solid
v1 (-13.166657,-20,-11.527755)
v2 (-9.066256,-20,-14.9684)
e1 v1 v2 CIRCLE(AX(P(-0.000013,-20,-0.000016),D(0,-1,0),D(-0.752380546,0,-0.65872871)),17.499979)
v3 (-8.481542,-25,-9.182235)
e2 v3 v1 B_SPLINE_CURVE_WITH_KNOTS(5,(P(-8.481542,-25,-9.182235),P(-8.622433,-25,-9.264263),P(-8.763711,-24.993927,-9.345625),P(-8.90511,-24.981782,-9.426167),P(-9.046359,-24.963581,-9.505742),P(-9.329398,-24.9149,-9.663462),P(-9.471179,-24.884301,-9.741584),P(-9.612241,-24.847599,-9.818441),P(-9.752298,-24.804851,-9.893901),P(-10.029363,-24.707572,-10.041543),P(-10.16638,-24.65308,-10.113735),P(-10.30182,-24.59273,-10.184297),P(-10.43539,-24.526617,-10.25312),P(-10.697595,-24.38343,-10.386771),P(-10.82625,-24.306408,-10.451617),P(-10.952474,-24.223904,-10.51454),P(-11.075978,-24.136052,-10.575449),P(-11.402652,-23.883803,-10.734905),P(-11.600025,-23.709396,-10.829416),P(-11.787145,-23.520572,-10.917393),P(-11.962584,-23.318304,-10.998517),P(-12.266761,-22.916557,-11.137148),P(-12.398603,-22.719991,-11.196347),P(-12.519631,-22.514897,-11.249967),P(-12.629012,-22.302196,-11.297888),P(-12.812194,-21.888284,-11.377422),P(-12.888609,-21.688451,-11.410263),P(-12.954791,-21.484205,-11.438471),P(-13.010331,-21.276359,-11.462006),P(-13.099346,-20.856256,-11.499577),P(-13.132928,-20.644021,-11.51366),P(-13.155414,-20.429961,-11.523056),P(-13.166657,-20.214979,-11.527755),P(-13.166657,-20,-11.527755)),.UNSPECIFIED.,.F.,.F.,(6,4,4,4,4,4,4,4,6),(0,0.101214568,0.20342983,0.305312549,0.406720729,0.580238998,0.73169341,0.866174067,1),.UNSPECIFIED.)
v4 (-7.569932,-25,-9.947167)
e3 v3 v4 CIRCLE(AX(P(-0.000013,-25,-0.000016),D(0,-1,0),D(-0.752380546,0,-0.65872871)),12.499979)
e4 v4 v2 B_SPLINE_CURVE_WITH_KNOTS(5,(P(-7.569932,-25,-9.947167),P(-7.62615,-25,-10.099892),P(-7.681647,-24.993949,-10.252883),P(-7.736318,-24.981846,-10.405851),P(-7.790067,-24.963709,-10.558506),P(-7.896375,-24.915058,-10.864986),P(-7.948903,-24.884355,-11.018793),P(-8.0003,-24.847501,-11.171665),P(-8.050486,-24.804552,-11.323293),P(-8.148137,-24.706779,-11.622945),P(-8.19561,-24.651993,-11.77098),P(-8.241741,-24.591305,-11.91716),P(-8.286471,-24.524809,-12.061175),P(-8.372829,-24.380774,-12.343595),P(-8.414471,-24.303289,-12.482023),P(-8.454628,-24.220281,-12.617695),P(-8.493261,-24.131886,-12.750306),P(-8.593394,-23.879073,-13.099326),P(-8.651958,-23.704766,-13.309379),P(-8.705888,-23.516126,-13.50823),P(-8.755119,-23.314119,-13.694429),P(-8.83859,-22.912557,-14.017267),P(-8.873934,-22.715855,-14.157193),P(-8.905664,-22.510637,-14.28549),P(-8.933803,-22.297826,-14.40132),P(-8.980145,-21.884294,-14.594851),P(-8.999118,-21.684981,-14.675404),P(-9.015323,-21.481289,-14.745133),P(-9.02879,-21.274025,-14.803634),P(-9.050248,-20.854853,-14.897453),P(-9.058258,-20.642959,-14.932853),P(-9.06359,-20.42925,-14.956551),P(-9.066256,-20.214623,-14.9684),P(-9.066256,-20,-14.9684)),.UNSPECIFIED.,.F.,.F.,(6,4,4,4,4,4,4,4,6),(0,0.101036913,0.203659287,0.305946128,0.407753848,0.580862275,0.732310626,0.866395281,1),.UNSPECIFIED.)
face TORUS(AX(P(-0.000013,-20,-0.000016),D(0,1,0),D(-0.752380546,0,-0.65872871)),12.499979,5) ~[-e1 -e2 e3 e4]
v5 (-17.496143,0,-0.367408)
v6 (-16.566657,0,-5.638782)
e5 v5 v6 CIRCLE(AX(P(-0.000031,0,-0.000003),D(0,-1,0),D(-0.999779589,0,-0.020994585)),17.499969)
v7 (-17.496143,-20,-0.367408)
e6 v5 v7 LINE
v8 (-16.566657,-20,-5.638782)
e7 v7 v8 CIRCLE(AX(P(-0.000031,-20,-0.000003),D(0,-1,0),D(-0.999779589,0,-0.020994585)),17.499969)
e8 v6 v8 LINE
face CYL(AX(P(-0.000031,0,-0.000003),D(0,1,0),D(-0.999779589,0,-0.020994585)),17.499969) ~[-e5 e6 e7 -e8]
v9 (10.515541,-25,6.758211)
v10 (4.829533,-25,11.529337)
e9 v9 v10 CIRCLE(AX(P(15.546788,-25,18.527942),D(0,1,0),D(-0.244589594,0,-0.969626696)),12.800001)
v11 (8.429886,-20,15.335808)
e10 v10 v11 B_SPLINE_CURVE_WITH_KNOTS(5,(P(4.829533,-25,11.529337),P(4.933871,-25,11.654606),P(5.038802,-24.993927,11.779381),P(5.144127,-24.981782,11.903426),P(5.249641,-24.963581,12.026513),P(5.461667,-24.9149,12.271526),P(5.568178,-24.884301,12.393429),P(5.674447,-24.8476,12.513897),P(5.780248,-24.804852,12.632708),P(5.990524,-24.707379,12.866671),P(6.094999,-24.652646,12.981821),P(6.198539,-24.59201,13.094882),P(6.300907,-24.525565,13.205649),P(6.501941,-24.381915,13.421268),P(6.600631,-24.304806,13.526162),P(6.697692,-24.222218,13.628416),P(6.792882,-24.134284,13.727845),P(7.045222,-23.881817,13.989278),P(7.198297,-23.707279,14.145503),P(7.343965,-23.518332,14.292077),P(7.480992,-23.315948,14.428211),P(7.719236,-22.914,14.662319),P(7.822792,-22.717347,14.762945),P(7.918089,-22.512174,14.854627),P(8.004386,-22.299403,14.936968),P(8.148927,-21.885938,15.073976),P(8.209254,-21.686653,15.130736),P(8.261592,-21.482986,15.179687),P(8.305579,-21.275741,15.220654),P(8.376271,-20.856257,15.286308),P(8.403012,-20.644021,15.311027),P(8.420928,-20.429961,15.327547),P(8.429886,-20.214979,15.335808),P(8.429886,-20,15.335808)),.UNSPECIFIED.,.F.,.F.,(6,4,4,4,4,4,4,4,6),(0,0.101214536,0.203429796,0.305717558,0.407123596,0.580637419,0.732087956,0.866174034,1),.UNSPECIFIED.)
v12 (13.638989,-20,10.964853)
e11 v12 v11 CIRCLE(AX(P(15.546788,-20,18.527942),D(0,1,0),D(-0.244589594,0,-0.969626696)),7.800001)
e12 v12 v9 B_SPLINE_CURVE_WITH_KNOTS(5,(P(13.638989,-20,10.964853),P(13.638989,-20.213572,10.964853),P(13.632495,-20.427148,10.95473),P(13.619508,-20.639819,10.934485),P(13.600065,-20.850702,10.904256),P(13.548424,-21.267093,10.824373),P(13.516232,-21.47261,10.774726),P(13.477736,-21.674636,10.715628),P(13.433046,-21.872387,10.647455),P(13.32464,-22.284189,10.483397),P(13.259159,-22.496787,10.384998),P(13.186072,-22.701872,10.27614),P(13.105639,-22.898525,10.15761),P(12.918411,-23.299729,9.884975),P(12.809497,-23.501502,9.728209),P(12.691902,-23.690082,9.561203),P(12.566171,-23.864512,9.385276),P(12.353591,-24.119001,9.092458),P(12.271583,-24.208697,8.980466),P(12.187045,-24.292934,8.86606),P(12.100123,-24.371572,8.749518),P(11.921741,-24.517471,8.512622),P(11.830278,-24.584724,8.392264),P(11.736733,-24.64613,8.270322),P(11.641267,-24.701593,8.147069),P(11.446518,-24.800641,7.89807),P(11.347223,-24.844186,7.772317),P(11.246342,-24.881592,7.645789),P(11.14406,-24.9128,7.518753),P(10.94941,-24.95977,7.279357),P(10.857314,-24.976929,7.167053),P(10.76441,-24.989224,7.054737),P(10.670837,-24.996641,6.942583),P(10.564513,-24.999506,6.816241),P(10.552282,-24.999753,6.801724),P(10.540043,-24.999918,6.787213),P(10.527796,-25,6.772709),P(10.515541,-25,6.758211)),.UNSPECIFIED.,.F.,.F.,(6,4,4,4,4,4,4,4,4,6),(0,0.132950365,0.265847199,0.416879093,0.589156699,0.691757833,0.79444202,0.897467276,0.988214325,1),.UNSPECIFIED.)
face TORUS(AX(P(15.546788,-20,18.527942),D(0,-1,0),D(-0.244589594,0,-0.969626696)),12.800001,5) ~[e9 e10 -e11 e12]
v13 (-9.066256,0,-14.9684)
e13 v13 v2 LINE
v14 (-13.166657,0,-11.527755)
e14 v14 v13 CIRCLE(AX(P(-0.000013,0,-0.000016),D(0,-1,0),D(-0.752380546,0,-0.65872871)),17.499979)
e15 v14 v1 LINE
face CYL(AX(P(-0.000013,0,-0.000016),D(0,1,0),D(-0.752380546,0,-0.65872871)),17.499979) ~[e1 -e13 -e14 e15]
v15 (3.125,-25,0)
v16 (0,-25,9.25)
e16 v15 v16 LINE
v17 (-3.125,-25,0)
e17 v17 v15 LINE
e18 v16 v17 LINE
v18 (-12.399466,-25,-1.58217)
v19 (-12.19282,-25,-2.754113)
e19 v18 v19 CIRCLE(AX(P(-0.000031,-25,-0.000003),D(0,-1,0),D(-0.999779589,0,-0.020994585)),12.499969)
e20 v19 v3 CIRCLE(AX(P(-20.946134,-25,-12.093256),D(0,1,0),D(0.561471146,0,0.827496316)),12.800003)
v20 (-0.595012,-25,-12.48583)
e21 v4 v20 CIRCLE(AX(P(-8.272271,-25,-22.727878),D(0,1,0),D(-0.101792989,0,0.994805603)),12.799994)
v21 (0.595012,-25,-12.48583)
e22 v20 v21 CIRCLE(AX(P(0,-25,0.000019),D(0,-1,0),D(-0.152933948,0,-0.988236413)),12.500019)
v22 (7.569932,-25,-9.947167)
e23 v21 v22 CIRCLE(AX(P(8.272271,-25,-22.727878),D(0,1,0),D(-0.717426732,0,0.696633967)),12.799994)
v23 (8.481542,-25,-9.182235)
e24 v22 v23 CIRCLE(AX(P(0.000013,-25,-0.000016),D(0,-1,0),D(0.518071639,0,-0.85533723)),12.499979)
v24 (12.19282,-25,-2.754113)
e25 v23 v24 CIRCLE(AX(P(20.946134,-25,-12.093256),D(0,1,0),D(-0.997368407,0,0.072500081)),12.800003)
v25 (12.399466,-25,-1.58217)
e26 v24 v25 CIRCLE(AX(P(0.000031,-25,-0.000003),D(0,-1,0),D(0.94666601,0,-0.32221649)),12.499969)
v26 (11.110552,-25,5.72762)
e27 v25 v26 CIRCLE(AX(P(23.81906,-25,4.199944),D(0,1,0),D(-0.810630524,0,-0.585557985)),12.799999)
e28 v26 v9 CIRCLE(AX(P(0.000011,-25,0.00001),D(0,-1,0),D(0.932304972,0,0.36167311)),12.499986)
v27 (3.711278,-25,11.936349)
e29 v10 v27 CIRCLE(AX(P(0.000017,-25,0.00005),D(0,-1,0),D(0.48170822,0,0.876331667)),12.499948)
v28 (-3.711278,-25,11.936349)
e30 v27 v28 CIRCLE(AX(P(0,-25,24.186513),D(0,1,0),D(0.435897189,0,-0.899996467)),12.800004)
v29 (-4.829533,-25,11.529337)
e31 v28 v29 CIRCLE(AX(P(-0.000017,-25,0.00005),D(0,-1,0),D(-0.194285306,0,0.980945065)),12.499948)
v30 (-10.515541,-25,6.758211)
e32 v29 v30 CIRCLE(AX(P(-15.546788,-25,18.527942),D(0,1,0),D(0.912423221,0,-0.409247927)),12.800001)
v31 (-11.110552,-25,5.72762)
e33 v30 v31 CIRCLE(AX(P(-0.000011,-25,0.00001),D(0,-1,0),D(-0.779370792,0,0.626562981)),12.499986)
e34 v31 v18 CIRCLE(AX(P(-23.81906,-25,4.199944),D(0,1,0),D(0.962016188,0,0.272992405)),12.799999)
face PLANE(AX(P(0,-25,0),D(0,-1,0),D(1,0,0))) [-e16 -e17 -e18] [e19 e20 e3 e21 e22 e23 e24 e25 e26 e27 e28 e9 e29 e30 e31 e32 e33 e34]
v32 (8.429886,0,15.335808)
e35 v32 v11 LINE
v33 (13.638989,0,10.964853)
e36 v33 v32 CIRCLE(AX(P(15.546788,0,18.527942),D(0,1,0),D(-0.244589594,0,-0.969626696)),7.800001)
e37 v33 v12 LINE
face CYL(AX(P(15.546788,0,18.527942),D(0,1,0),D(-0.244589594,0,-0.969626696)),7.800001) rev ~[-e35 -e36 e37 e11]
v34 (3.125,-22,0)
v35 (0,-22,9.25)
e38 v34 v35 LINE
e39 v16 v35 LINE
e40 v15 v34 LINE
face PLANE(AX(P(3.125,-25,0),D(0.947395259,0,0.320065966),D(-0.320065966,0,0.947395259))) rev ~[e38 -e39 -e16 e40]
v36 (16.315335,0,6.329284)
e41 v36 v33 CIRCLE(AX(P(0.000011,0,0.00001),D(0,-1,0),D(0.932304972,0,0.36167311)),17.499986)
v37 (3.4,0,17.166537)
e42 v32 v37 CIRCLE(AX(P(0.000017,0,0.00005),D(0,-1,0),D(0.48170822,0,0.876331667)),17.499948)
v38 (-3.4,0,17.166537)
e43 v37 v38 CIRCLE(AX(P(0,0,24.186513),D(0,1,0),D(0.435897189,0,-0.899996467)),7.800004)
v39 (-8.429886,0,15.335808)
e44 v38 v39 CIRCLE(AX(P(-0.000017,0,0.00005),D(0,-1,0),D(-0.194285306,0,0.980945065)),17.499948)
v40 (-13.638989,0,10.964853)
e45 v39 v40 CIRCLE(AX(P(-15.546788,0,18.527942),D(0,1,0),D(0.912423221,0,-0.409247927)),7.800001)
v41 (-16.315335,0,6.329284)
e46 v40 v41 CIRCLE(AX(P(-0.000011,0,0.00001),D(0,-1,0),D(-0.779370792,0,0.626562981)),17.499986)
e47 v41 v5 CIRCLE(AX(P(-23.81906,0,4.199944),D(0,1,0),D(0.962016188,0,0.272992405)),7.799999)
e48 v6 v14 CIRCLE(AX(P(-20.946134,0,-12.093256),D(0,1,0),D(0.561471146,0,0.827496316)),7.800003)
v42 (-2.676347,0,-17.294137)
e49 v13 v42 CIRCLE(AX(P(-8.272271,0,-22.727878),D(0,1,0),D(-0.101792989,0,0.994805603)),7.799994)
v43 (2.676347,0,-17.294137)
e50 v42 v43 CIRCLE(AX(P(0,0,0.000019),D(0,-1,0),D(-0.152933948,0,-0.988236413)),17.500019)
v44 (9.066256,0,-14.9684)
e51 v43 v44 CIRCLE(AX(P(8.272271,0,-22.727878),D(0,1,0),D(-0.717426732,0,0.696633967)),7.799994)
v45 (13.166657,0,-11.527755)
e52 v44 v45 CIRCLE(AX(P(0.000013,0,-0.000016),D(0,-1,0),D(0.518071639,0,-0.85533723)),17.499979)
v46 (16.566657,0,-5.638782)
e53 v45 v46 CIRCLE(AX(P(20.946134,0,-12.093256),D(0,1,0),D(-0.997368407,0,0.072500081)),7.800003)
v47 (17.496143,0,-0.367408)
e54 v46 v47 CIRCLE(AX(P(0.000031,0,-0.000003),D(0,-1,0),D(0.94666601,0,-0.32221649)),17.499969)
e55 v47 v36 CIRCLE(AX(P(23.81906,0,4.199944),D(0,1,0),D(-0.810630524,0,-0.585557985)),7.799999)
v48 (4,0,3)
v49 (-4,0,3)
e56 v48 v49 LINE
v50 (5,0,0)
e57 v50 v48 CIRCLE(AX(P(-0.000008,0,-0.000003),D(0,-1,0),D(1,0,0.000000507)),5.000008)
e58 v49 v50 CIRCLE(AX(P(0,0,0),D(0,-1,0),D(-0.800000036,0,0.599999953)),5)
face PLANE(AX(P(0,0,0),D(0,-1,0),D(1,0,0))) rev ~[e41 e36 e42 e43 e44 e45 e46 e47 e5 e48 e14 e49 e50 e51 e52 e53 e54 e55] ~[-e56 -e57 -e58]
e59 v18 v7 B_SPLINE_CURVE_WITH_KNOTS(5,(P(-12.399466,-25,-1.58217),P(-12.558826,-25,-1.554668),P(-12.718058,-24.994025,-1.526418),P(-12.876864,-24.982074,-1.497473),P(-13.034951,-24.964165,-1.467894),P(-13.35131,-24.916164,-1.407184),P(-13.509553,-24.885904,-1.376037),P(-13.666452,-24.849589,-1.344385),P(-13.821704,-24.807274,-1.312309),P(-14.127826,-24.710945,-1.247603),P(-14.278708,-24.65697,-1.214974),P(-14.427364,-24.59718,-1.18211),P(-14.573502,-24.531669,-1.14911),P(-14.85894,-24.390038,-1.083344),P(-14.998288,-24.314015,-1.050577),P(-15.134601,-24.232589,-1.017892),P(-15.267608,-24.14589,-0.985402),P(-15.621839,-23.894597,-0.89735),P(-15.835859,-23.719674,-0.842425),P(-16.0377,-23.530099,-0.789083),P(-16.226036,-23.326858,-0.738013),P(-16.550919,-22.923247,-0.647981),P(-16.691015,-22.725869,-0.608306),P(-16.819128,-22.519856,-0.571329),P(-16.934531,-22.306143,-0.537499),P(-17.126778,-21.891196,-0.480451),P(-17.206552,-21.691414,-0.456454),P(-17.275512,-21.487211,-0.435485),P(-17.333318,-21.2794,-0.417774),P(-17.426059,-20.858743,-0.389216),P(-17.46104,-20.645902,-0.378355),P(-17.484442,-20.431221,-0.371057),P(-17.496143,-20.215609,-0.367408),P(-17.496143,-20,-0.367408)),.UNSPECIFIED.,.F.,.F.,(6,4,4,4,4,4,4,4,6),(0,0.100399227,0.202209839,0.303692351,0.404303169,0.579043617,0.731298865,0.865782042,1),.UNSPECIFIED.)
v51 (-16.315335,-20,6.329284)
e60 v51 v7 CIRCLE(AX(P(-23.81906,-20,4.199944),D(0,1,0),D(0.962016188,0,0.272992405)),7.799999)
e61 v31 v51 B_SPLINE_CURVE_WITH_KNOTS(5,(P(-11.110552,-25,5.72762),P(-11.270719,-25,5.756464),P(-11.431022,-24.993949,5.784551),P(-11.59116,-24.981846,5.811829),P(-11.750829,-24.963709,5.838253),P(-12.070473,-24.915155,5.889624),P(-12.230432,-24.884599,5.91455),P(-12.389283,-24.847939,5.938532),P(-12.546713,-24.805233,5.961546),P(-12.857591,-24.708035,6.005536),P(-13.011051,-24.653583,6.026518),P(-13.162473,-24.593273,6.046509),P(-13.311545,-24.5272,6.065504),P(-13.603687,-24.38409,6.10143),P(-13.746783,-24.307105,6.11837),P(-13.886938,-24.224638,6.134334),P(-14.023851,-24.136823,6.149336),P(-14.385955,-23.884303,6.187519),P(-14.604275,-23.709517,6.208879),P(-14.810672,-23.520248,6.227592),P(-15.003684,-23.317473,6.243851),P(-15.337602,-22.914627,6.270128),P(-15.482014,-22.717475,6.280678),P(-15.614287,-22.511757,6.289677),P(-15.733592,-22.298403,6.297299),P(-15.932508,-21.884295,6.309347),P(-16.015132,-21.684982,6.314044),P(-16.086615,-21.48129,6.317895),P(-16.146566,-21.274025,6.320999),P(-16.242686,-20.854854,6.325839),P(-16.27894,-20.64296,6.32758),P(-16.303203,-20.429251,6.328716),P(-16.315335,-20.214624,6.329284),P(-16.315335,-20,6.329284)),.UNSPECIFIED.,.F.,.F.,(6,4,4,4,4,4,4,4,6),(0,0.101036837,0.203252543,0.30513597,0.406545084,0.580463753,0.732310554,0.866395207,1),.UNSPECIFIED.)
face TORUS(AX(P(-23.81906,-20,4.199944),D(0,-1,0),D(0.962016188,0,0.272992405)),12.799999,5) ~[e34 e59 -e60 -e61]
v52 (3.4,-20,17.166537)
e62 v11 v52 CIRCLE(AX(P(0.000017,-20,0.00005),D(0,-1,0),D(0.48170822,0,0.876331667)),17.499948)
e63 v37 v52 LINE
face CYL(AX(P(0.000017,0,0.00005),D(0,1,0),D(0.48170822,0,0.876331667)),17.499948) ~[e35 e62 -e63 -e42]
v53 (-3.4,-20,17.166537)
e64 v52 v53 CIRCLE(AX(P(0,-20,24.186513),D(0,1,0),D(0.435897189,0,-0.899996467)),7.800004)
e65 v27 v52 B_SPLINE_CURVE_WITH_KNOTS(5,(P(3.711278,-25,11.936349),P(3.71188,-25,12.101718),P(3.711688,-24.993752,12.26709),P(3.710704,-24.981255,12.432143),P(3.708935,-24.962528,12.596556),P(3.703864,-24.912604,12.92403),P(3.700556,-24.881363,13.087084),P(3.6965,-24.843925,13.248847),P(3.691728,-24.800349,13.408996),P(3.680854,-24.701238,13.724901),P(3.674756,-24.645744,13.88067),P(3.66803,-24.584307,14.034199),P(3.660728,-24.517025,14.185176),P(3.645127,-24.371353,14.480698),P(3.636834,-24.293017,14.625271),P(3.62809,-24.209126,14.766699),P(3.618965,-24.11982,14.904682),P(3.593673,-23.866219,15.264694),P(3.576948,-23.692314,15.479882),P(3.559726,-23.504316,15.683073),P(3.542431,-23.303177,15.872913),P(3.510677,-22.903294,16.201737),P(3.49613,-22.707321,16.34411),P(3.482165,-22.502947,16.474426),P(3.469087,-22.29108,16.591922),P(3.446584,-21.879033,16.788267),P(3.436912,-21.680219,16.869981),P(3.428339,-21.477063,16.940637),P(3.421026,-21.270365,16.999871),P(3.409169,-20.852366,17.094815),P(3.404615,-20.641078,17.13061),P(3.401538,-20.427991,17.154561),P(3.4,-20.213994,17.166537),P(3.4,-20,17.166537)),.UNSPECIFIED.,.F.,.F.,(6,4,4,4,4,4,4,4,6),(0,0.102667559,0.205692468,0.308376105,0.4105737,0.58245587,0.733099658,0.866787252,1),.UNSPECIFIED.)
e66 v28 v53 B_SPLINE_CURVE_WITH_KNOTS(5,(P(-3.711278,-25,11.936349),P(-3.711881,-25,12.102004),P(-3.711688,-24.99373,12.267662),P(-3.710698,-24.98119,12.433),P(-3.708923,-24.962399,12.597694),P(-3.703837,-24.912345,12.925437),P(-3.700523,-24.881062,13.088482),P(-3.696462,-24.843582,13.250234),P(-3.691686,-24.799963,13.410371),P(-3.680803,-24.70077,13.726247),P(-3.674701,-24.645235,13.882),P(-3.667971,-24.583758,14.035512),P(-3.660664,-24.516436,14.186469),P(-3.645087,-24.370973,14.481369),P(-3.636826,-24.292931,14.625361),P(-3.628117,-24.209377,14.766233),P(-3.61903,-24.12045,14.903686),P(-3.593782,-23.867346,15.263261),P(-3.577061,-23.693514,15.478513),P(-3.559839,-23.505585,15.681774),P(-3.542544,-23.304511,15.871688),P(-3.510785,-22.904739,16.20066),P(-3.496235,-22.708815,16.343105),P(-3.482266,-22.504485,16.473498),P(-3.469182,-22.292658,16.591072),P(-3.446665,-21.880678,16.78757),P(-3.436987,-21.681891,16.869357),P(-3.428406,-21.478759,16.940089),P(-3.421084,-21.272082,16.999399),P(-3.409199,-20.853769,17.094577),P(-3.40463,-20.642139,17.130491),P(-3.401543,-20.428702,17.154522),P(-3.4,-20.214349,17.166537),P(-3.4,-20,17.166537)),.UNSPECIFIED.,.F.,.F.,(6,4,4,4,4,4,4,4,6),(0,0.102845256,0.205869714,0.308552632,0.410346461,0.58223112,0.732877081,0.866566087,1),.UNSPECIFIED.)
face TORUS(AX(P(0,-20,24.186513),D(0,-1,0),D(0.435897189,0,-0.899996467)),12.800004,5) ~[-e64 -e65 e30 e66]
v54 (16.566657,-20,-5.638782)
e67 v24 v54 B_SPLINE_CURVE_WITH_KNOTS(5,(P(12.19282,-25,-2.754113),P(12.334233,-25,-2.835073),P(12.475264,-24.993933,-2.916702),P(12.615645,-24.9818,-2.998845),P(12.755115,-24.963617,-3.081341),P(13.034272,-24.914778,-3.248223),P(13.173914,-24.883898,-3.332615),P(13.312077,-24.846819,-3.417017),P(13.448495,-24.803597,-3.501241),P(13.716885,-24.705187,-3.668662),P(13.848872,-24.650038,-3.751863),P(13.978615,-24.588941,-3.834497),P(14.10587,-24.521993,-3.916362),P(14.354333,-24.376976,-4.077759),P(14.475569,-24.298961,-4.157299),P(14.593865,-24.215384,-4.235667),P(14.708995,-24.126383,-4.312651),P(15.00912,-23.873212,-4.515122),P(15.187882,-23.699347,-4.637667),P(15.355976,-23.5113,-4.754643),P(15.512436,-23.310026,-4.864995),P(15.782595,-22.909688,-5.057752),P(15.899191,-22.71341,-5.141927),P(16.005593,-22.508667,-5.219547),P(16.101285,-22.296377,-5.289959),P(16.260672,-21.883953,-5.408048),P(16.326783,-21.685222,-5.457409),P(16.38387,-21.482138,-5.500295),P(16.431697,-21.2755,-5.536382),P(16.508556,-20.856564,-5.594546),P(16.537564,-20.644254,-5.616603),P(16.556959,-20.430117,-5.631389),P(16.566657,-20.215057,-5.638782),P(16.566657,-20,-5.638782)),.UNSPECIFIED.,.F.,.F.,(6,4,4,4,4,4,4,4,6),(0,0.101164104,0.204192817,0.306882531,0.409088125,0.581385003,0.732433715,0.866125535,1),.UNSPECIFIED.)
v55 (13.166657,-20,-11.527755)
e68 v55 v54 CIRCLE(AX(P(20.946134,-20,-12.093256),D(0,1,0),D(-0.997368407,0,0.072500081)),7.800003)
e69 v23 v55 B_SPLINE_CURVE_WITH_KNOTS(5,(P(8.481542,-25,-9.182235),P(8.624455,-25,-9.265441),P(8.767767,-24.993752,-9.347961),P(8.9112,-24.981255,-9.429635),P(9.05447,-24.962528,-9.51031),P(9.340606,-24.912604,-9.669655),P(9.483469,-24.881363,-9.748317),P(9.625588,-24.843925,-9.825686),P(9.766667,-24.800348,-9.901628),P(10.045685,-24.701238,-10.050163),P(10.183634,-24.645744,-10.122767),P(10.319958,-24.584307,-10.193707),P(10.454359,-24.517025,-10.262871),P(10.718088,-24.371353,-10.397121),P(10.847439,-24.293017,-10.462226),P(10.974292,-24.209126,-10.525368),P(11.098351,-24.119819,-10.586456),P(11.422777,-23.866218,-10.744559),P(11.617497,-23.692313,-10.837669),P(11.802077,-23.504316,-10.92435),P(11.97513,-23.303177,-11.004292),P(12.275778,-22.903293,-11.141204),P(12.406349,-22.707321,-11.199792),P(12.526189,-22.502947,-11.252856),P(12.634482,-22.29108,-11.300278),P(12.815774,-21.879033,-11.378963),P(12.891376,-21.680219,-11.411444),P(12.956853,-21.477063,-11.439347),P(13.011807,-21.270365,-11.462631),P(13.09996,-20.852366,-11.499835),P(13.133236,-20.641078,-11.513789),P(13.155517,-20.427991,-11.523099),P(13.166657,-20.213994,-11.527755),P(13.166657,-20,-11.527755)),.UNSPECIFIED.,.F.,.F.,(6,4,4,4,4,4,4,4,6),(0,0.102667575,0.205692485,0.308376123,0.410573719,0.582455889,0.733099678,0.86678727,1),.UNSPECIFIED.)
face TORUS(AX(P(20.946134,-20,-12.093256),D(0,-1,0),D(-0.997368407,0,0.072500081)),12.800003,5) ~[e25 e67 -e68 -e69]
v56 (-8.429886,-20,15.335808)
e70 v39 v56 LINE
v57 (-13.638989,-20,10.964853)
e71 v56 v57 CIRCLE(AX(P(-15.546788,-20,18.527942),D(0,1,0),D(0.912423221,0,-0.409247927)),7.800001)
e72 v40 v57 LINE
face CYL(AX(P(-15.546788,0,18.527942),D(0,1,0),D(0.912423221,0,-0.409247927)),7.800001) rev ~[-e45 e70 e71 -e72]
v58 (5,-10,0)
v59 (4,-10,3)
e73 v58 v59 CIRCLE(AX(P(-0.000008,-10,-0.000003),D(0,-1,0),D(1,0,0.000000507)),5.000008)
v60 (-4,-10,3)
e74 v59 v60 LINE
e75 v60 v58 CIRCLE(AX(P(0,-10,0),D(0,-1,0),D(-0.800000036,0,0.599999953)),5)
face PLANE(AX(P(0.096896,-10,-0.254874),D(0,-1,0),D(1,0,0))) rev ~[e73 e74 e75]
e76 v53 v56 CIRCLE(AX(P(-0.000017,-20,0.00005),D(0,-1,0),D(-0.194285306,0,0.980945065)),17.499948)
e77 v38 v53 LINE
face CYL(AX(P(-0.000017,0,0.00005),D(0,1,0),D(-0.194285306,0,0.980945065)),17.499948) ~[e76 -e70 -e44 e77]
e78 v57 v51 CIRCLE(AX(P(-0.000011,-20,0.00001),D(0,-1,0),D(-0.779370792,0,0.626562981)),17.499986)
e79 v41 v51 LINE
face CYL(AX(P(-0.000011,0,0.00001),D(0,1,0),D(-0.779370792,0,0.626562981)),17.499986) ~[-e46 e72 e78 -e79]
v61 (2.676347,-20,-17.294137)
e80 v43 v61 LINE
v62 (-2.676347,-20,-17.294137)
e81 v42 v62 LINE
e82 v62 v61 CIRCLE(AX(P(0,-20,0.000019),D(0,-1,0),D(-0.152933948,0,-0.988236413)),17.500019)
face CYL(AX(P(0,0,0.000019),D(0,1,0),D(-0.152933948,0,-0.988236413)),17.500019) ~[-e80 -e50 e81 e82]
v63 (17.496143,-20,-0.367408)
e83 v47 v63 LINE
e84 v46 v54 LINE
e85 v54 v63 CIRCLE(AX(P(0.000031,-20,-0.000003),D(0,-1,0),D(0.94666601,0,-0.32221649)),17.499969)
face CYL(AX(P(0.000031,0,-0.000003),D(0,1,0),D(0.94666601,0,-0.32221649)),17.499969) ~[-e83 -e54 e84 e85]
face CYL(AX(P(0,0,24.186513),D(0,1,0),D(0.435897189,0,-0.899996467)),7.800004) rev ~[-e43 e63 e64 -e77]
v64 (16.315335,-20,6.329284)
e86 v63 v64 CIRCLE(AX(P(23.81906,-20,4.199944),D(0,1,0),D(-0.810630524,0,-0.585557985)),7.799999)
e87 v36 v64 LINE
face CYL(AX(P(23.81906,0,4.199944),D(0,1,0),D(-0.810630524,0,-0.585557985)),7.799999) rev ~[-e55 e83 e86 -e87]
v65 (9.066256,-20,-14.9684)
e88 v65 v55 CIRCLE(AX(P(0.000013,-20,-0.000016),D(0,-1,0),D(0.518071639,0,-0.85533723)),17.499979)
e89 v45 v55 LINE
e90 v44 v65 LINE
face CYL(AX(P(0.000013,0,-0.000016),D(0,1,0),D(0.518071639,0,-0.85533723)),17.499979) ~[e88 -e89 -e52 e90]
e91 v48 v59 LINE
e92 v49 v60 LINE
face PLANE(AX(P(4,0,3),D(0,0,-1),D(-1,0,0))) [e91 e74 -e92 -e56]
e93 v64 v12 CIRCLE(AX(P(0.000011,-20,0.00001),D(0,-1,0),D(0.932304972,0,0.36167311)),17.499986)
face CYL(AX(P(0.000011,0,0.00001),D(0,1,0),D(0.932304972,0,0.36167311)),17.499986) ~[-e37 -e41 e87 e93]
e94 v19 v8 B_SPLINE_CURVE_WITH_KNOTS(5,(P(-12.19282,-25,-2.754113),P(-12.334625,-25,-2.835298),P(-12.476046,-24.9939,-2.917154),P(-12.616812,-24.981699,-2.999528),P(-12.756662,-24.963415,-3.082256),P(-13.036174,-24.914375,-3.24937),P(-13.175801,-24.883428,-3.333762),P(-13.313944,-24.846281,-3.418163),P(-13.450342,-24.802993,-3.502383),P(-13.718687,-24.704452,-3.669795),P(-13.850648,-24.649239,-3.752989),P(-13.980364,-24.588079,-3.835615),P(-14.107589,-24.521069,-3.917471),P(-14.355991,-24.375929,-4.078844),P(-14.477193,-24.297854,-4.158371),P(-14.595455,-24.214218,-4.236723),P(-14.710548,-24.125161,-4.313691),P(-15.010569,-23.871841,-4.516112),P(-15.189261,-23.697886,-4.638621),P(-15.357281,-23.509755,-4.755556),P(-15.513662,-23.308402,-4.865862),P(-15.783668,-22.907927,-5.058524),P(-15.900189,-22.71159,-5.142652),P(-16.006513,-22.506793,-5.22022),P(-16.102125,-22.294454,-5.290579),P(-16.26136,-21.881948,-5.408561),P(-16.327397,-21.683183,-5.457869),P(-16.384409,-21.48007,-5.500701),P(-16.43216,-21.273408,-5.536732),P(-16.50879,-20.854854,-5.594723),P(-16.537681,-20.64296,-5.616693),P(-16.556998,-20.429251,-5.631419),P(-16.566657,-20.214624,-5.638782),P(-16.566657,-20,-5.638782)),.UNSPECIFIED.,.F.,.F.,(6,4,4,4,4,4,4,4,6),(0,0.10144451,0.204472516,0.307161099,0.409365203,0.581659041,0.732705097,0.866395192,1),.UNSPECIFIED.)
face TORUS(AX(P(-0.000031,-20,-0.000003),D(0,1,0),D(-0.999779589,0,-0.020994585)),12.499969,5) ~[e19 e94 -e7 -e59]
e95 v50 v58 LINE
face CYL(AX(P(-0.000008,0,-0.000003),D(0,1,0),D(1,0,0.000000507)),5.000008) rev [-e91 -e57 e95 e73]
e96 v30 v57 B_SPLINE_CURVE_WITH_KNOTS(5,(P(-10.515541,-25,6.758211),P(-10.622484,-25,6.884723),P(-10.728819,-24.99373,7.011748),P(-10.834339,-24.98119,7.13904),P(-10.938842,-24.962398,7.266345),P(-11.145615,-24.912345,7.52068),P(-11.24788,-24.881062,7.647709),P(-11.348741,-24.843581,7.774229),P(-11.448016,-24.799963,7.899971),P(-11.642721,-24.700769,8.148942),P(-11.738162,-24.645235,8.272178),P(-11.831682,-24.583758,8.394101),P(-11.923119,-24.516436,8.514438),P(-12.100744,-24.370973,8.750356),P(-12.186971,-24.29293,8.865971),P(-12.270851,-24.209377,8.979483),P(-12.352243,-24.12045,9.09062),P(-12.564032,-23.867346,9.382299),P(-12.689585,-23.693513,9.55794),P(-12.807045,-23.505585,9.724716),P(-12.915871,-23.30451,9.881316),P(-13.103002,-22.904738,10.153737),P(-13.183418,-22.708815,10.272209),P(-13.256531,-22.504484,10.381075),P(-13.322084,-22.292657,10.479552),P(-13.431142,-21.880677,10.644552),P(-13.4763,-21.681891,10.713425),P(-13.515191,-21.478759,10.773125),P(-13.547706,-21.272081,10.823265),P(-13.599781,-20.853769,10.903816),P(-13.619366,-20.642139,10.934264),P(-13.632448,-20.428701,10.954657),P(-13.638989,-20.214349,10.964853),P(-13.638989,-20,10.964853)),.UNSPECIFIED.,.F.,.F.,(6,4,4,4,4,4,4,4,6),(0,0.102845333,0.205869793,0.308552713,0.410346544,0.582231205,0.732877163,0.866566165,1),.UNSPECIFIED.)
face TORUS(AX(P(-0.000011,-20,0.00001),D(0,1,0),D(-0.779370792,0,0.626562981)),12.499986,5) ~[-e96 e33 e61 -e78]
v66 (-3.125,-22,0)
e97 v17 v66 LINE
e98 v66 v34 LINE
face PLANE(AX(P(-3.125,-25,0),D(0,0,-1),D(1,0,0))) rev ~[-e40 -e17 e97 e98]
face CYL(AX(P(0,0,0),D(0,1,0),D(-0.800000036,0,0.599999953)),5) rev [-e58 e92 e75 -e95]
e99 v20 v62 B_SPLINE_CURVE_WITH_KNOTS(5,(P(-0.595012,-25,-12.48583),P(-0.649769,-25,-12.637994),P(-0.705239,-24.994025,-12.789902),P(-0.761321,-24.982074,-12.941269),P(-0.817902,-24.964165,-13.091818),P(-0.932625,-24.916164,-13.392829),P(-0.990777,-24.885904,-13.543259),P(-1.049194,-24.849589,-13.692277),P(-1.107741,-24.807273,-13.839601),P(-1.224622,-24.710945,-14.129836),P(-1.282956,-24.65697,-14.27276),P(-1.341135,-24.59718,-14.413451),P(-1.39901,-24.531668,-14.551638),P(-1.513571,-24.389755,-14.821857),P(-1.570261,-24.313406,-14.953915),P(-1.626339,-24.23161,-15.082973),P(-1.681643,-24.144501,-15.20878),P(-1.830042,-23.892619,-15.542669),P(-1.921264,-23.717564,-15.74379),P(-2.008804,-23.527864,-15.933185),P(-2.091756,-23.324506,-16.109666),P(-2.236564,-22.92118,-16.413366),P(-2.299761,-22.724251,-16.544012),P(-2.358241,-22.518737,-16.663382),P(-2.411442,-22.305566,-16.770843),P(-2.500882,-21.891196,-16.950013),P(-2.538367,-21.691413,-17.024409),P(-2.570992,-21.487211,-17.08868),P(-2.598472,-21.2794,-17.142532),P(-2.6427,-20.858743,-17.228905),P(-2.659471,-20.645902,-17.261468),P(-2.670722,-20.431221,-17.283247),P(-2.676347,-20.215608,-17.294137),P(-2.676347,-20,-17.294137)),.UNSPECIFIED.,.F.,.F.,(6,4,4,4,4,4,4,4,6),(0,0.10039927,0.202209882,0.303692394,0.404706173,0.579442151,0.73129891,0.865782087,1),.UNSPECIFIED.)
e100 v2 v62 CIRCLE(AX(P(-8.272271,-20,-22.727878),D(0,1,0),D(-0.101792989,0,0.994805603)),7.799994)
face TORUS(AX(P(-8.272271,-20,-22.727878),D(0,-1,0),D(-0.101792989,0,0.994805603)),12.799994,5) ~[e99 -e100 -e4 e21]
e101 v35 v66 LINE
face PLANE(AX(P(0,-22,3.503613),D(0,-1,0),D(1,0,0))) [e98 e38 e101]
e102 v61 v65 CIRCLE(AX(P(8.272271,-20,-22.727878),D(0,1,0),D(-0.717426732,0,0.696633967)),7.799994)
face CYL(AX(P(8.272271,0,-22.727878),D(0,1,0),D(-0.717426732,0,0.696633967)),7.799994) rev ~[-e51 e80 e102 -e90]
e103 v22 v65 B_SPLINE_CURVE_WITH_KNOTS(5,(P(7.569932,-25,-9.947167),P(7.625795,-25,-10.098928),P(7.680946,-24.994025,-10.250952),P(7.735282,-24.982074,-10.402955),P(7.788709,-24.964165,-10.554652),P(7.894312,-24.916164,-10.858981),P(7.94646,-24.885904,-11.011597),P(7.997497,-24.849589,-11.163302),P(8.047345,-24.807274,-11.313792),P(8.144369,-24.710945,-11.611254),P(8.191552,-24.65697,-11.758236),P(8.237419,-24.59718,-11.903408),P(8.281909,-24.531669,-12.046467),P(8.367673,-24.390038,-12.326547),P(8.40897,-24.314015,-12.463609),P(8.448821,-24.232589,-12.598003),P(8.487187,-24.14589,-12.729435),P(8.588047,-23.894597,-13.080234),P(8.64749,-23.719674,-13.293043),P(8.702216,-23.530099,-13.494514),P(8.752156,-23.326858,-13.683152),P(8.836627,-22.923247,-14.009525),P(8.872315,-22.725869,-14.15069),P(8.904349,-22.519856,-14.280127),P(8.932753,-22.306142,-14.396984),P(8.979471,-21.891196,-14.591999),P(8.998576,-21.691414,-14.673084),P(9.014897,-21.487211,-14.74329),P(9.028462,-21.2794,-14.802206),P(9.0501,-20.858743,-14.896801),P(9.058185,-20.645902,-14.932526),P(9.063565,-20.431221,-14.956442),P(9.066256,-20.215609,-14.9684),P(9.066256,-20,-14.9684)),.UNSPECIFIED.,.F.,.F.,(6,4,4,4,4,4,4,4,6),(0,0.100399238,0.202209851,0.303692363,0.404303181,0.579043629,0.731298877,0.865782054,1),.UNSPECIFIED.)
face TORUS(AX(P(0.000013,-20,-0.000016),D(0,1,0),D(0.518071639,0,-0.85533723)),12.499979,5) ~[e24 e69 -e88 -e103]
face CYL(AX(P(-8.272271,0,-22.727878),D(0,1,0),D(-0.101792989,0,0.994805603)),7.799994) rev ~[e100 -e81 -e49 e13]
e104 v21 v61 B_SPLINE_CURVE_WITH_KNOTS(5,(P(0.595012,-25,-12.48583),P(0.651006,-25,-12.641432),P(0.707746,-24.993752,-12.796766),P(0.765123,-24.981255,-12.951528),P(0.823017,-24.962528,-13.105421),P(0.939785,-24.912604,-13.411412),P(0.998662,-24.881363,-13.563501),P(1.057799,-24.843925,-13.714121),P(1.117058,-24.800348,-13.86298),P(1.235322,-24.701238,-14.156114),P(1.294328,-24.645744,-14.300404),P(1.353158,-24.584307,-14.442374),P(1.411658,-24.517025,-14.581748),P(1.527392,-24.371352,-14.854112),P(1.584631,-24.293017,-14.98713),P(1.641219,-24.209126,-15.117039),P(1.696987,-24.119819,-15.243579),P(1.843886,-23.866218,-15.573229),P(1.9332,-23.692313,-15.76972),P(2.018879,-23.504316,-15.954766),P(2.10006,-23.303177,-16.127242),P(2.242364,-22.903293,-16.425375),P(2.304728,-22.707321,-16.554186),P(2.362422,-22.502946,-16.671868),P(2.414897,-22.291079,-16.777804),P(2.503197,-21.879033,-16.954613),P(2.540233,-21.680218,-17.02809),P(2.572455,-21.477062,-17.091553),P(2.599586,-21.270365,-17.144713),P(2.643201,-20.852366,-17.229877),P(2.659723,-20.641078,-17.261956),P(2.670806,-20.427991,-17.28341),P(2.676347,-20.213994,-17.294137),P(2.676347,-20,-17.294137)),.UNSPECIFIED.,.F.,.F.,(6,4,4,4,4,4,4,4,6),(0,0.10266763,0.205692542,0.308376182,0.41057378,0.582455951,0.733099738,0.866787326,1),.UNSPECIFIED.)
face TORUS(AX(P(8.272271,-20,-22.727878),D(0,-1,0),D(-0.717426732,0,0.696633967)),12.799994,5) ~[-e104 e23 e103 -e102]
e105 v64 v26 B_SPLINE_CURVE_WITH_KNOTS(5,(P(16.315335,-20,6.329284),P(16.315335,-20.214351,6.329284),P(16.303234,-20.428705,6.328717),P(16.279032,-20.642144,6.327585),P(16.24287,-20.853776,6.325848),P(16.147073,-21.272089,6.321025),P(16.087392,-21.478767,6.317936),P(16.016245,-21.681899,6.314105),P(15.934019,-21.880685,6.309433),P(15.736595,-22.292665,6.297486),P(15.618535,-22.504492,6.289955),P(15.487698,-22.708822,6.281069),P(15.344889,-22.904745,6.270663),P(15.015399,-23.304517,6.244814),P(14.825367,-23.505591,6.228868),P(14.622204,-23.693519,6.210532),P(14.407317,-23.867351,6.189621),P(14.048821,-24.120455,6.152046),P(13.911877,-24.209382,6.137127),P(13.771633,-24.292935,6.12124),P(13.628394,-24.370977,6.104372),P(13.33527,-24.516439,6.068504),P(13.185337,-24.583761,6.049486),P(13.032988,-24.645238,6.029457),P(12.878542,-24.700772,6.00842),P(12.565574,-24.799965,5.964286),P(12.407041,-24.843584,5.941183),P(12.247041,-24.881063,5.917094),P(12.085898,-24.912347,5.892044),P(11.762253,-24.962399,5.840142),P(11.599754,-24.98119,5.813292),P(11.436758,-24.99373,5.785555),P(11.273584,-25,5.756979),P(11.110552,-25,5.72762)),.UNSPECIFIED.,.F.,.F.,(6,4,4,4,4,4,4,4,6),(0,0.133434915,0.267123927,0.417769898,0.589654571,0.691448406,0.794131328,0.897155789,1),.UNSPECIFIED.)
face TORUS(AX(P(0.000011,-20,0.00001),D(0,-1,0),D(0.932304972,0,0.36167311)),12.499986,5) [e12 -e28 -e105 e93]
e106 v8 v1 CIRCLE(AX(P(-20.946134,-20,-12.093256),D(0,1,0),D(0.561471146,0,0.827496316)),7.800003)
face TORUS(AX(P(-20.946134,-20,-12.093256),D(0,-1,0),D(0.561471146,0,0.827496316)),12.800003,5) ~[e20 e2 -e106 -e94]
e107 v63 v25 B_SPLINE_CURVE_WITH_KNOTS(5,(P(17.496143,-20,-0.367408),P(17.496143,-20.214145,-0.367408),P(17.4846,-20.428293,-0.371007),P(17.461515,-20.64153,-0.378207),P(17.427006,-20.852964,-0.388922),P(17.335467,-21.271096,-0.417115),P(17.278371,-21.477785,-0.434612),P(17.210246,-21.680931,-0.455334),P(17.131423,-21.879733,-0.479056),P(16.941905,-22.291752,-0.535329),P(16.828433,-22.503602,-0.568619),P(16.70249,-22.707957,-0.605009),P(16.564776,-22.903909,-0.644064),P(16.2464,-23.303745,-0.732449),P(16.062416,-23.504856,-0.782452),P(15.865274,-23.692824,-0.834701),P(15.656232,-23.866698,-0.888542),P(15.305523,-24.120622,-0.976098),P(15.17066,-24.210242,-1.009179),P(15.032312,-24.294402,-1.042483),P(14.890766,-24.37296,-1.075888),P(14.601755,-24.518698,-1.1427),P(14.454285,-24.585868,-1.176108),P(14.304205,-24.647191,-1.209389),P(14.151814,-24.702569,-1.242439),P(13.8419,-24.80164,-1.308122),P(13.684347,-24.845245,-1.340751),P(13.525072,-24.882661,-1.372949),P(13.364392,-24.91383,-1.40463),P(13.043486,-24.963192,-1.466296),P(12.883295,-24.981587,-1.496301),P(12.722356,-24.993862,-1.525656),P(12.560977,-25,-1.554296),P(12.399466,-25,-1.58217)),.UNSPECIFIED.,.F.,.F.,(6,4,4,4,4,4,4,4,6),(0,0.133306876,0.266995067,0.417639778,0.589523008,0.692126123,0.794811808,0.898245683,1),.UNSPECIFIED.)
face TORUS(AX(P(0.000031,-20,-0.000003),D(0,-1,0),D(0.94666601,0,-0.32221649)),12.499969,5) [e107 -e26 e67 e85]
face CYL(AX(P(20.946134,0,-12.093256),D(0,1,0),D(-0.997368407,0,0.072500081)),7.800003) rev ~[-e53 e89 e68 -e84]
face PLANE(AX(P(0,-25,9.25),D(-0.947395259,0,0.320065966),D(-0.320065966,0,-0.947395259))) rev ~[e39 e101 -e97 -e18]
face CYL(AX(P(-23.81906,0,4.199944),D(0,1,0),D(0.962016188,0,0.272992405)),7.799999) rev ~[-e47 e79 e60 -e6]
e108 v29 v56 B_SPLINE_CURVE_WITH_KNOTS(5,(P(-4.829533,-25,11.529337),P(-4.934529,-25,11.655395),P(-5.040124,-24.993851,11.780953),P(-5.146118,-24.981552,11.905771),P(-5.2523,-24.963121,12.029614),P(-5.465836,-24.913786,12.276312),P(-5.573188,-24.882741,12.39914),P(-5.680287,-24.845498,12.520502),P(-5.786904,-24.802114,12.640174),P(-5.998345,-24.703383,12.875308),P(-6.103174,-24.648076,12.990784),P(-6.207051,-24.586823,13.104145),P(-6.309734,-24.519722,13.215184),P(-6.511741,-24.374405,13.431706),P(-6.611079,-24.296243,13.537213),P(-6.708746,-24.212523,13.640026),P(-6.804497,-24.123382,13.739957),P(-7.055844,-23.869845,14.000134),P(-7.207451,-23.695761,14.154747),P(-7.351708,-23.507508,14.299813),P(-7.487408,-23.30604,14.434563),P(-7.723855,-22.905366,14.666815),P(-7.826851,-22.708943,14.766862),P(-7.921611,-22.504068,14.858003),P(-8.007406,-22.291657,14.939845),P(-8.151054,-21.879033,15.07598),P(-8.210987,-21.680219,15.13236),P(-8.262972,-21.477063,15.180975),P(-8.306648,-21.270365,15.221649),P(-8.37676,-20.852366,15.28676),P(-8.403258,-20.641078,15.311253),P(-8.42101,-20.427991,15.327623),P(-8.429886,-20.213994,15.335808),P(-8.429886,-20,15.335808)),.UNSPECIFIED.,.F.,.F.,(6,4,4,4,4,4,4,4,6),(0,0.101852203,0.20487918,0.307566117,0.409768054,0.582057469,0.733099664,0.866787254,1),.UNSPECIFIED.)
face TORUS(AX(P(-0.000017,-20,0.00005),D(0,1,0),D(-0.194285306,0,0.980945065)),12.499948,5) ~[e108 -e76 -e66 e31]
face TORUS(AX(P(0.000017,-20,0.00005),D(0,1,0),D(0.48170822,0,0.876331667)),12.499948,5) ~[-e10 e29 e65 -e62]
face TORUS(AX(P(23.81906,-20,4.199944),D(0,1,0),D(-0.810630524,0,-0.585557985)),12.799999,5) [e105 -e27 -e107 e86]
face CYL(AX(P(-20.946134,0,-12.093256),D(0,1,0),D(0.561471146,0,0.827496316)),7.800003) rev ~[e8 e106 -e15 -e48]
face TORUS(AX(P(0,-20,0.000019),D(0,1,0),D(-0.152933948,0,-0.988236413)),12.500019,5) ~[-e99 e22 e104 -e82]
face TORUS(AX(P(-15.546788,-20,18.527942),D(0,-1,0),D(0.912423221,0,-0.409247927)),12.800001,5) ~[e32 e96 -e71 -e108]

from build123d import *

# Parameters (mm, degrees)
F1_DEPTH = 25
F2_DEPTH = 10
F3_R     = 5
F5_DEPTH = 3


with BuildPart() as f1:
    # F0 (on Front) → F1 (new body)
    with BuildSketch(Plane.XZ):
        with BuildLine():
            ThreePointArc((17.496143, -0.367408), (16.137561, 2.845487), (16.315335, 6.329284))
            ThreePointArc((16.315335, 6.329284), (15.155445, 8.75), (13.638989, 10.964853))
            ThreePointArc((13.638989, 10.964853), (10.533045, 12.552794), (8.429886, 15.335808))
            ThreePointArc((8.429886, 15.335808), (5.985353, 16.444621), (3.4, 17.166537))
            ThreePointArc((3.4, 17.166537), (0, 16.386509), (-3.4, 17.166537))
            ThreePointArc((-3.4, 17.166537), (-5.985353, 16.444621), (-8.429886, 15.335808))
            ThreePointArc((-8.429886, 15.335808), (-10.533045, 12.552794), (-13.638989, 10.964853))
            ThreePointArc((-13.638989, 10.964853), (-15.155445, 8.75), (-16.315335, 6.329284))
            ThreePointArc((-16.315335, 6.329284), (-16.137561, 2.845487), (-17.496143, -0.367408))
            ThreePointArc((-17.496143, -0.367408), (-17.234136, -3.038843), (-16.566657, -5.638782))
            ThreePointArc((-16.566657, -5.638782), (-14.191133, -8.193254), (-13.166657, -11.527755))
            ThreePointArc((-13.166657, -11.527755), (-11.248783, -13.405778), (-9.066256, -14.9684))
            ThreePointArc((-9.066256, -14.9684), (-5.604516, -15.398281), (-2.676347, -17.294137))
            ThreePointArc((-2.676347, -17.294137), (0, -17.5), (2.676347, -17.294137))
            ThreePointArc((2.676347, -17.294137), (5.604516, -15.398281), (9.066256, -14.9684))
            ThreePointArc((9.066256, -14.9684), (11.248783, -13.405778), (13.166657, -11.527755))
            ThreePointArc((13.166657, -11.527755), (14.191133, -8.193254), (16.566657, -5.638782))
            ThreePointArc((16.566657, -5.638782), (17.234136, -3.038843), (17.496143, -0.367408))
        make_face()
        with BuildLine():
            ThreePointArc((4, 3), (4.743416, 1.581139), (5, 0))
            ThreePointArc((5, 0), (-1.581139, -4.743416), (-4, 3))
            ThreePointArc((-4, 3), (0, 5), (4, 3))
        make_face(mode=Mode.SUBTRACT)
        with BuildLine():
            ThreePointArc((-4, 3), (-1.581139, -4.743416), (5, 0))
            ThreePointArc((5, 0), (4.743416, 1.581139), (4, 3))
            Line((4, 3), (-4, 3))
        make_face()
        with BuildLine():
            Line((-4, 3), (4, 3))
            ThreePointArc((4, 3), (0, 5), (-4, 3))
        make_face()
    extrude(amount=F1_DEPTH)

    # F0 (on Front) → F2 (cut)
    with BuildSketch(Plane.XZ):
        with BuildLine():
            ThreePointArc((-4, 3), (-1.581139, -4.743416), (5, 0))
            ThreePointArc((5, 0), (4.743416, 1.581139), (4, 3))
            Line((4, 3), (-4, 3))
        make_face()
    extrude(amount=F2_DEPTH, mode=Mode.SUBTRACT)

    # F3
    f3_edges = [f1.edges().sort_by_distance(p)[0] for p in [
        (16.137561, -25, 2.845487),
        (15.155445, -25, 8.75),
        (10.533045, -25, 12.552794),
        (5.985353, -25, 16.444621),
        (0, -25, 16.386509),
        (-5.985353, -25, 16.444621),
        (-10.533045, -25, 12.552794),
        (-15.155445, -25, 8.75),
        (-16.137561, -25, 2.845487),
        (-17.234136, -25, -3.038843),
        (-14.191133, -25, -8.193254),
        (-11.248783, -25, -13.405778),
        (-5.604516, -25, -15.398281),
        (0, -25, -17.5),
        (5.604516, -25, -15.398281),
        (11.248783, -25, -13.405778),
        (14.191133, -25, -8.193254),
        (17.234136, -25, -3.038843),
    ]]
    fillet(f3_edges, radius=F3_R)

    # F4 (on face) → F5 (cut)
    with BuildSketch(Plane.XZ.offset(25)):
        Polygon((-3.125, 0), (0, 0), (3.125, 0), (0, 9.25), align=None)
    extrude(amount=-F5_DEPTH, mode=Mode.SUBTRACT)


solid = f1.part
